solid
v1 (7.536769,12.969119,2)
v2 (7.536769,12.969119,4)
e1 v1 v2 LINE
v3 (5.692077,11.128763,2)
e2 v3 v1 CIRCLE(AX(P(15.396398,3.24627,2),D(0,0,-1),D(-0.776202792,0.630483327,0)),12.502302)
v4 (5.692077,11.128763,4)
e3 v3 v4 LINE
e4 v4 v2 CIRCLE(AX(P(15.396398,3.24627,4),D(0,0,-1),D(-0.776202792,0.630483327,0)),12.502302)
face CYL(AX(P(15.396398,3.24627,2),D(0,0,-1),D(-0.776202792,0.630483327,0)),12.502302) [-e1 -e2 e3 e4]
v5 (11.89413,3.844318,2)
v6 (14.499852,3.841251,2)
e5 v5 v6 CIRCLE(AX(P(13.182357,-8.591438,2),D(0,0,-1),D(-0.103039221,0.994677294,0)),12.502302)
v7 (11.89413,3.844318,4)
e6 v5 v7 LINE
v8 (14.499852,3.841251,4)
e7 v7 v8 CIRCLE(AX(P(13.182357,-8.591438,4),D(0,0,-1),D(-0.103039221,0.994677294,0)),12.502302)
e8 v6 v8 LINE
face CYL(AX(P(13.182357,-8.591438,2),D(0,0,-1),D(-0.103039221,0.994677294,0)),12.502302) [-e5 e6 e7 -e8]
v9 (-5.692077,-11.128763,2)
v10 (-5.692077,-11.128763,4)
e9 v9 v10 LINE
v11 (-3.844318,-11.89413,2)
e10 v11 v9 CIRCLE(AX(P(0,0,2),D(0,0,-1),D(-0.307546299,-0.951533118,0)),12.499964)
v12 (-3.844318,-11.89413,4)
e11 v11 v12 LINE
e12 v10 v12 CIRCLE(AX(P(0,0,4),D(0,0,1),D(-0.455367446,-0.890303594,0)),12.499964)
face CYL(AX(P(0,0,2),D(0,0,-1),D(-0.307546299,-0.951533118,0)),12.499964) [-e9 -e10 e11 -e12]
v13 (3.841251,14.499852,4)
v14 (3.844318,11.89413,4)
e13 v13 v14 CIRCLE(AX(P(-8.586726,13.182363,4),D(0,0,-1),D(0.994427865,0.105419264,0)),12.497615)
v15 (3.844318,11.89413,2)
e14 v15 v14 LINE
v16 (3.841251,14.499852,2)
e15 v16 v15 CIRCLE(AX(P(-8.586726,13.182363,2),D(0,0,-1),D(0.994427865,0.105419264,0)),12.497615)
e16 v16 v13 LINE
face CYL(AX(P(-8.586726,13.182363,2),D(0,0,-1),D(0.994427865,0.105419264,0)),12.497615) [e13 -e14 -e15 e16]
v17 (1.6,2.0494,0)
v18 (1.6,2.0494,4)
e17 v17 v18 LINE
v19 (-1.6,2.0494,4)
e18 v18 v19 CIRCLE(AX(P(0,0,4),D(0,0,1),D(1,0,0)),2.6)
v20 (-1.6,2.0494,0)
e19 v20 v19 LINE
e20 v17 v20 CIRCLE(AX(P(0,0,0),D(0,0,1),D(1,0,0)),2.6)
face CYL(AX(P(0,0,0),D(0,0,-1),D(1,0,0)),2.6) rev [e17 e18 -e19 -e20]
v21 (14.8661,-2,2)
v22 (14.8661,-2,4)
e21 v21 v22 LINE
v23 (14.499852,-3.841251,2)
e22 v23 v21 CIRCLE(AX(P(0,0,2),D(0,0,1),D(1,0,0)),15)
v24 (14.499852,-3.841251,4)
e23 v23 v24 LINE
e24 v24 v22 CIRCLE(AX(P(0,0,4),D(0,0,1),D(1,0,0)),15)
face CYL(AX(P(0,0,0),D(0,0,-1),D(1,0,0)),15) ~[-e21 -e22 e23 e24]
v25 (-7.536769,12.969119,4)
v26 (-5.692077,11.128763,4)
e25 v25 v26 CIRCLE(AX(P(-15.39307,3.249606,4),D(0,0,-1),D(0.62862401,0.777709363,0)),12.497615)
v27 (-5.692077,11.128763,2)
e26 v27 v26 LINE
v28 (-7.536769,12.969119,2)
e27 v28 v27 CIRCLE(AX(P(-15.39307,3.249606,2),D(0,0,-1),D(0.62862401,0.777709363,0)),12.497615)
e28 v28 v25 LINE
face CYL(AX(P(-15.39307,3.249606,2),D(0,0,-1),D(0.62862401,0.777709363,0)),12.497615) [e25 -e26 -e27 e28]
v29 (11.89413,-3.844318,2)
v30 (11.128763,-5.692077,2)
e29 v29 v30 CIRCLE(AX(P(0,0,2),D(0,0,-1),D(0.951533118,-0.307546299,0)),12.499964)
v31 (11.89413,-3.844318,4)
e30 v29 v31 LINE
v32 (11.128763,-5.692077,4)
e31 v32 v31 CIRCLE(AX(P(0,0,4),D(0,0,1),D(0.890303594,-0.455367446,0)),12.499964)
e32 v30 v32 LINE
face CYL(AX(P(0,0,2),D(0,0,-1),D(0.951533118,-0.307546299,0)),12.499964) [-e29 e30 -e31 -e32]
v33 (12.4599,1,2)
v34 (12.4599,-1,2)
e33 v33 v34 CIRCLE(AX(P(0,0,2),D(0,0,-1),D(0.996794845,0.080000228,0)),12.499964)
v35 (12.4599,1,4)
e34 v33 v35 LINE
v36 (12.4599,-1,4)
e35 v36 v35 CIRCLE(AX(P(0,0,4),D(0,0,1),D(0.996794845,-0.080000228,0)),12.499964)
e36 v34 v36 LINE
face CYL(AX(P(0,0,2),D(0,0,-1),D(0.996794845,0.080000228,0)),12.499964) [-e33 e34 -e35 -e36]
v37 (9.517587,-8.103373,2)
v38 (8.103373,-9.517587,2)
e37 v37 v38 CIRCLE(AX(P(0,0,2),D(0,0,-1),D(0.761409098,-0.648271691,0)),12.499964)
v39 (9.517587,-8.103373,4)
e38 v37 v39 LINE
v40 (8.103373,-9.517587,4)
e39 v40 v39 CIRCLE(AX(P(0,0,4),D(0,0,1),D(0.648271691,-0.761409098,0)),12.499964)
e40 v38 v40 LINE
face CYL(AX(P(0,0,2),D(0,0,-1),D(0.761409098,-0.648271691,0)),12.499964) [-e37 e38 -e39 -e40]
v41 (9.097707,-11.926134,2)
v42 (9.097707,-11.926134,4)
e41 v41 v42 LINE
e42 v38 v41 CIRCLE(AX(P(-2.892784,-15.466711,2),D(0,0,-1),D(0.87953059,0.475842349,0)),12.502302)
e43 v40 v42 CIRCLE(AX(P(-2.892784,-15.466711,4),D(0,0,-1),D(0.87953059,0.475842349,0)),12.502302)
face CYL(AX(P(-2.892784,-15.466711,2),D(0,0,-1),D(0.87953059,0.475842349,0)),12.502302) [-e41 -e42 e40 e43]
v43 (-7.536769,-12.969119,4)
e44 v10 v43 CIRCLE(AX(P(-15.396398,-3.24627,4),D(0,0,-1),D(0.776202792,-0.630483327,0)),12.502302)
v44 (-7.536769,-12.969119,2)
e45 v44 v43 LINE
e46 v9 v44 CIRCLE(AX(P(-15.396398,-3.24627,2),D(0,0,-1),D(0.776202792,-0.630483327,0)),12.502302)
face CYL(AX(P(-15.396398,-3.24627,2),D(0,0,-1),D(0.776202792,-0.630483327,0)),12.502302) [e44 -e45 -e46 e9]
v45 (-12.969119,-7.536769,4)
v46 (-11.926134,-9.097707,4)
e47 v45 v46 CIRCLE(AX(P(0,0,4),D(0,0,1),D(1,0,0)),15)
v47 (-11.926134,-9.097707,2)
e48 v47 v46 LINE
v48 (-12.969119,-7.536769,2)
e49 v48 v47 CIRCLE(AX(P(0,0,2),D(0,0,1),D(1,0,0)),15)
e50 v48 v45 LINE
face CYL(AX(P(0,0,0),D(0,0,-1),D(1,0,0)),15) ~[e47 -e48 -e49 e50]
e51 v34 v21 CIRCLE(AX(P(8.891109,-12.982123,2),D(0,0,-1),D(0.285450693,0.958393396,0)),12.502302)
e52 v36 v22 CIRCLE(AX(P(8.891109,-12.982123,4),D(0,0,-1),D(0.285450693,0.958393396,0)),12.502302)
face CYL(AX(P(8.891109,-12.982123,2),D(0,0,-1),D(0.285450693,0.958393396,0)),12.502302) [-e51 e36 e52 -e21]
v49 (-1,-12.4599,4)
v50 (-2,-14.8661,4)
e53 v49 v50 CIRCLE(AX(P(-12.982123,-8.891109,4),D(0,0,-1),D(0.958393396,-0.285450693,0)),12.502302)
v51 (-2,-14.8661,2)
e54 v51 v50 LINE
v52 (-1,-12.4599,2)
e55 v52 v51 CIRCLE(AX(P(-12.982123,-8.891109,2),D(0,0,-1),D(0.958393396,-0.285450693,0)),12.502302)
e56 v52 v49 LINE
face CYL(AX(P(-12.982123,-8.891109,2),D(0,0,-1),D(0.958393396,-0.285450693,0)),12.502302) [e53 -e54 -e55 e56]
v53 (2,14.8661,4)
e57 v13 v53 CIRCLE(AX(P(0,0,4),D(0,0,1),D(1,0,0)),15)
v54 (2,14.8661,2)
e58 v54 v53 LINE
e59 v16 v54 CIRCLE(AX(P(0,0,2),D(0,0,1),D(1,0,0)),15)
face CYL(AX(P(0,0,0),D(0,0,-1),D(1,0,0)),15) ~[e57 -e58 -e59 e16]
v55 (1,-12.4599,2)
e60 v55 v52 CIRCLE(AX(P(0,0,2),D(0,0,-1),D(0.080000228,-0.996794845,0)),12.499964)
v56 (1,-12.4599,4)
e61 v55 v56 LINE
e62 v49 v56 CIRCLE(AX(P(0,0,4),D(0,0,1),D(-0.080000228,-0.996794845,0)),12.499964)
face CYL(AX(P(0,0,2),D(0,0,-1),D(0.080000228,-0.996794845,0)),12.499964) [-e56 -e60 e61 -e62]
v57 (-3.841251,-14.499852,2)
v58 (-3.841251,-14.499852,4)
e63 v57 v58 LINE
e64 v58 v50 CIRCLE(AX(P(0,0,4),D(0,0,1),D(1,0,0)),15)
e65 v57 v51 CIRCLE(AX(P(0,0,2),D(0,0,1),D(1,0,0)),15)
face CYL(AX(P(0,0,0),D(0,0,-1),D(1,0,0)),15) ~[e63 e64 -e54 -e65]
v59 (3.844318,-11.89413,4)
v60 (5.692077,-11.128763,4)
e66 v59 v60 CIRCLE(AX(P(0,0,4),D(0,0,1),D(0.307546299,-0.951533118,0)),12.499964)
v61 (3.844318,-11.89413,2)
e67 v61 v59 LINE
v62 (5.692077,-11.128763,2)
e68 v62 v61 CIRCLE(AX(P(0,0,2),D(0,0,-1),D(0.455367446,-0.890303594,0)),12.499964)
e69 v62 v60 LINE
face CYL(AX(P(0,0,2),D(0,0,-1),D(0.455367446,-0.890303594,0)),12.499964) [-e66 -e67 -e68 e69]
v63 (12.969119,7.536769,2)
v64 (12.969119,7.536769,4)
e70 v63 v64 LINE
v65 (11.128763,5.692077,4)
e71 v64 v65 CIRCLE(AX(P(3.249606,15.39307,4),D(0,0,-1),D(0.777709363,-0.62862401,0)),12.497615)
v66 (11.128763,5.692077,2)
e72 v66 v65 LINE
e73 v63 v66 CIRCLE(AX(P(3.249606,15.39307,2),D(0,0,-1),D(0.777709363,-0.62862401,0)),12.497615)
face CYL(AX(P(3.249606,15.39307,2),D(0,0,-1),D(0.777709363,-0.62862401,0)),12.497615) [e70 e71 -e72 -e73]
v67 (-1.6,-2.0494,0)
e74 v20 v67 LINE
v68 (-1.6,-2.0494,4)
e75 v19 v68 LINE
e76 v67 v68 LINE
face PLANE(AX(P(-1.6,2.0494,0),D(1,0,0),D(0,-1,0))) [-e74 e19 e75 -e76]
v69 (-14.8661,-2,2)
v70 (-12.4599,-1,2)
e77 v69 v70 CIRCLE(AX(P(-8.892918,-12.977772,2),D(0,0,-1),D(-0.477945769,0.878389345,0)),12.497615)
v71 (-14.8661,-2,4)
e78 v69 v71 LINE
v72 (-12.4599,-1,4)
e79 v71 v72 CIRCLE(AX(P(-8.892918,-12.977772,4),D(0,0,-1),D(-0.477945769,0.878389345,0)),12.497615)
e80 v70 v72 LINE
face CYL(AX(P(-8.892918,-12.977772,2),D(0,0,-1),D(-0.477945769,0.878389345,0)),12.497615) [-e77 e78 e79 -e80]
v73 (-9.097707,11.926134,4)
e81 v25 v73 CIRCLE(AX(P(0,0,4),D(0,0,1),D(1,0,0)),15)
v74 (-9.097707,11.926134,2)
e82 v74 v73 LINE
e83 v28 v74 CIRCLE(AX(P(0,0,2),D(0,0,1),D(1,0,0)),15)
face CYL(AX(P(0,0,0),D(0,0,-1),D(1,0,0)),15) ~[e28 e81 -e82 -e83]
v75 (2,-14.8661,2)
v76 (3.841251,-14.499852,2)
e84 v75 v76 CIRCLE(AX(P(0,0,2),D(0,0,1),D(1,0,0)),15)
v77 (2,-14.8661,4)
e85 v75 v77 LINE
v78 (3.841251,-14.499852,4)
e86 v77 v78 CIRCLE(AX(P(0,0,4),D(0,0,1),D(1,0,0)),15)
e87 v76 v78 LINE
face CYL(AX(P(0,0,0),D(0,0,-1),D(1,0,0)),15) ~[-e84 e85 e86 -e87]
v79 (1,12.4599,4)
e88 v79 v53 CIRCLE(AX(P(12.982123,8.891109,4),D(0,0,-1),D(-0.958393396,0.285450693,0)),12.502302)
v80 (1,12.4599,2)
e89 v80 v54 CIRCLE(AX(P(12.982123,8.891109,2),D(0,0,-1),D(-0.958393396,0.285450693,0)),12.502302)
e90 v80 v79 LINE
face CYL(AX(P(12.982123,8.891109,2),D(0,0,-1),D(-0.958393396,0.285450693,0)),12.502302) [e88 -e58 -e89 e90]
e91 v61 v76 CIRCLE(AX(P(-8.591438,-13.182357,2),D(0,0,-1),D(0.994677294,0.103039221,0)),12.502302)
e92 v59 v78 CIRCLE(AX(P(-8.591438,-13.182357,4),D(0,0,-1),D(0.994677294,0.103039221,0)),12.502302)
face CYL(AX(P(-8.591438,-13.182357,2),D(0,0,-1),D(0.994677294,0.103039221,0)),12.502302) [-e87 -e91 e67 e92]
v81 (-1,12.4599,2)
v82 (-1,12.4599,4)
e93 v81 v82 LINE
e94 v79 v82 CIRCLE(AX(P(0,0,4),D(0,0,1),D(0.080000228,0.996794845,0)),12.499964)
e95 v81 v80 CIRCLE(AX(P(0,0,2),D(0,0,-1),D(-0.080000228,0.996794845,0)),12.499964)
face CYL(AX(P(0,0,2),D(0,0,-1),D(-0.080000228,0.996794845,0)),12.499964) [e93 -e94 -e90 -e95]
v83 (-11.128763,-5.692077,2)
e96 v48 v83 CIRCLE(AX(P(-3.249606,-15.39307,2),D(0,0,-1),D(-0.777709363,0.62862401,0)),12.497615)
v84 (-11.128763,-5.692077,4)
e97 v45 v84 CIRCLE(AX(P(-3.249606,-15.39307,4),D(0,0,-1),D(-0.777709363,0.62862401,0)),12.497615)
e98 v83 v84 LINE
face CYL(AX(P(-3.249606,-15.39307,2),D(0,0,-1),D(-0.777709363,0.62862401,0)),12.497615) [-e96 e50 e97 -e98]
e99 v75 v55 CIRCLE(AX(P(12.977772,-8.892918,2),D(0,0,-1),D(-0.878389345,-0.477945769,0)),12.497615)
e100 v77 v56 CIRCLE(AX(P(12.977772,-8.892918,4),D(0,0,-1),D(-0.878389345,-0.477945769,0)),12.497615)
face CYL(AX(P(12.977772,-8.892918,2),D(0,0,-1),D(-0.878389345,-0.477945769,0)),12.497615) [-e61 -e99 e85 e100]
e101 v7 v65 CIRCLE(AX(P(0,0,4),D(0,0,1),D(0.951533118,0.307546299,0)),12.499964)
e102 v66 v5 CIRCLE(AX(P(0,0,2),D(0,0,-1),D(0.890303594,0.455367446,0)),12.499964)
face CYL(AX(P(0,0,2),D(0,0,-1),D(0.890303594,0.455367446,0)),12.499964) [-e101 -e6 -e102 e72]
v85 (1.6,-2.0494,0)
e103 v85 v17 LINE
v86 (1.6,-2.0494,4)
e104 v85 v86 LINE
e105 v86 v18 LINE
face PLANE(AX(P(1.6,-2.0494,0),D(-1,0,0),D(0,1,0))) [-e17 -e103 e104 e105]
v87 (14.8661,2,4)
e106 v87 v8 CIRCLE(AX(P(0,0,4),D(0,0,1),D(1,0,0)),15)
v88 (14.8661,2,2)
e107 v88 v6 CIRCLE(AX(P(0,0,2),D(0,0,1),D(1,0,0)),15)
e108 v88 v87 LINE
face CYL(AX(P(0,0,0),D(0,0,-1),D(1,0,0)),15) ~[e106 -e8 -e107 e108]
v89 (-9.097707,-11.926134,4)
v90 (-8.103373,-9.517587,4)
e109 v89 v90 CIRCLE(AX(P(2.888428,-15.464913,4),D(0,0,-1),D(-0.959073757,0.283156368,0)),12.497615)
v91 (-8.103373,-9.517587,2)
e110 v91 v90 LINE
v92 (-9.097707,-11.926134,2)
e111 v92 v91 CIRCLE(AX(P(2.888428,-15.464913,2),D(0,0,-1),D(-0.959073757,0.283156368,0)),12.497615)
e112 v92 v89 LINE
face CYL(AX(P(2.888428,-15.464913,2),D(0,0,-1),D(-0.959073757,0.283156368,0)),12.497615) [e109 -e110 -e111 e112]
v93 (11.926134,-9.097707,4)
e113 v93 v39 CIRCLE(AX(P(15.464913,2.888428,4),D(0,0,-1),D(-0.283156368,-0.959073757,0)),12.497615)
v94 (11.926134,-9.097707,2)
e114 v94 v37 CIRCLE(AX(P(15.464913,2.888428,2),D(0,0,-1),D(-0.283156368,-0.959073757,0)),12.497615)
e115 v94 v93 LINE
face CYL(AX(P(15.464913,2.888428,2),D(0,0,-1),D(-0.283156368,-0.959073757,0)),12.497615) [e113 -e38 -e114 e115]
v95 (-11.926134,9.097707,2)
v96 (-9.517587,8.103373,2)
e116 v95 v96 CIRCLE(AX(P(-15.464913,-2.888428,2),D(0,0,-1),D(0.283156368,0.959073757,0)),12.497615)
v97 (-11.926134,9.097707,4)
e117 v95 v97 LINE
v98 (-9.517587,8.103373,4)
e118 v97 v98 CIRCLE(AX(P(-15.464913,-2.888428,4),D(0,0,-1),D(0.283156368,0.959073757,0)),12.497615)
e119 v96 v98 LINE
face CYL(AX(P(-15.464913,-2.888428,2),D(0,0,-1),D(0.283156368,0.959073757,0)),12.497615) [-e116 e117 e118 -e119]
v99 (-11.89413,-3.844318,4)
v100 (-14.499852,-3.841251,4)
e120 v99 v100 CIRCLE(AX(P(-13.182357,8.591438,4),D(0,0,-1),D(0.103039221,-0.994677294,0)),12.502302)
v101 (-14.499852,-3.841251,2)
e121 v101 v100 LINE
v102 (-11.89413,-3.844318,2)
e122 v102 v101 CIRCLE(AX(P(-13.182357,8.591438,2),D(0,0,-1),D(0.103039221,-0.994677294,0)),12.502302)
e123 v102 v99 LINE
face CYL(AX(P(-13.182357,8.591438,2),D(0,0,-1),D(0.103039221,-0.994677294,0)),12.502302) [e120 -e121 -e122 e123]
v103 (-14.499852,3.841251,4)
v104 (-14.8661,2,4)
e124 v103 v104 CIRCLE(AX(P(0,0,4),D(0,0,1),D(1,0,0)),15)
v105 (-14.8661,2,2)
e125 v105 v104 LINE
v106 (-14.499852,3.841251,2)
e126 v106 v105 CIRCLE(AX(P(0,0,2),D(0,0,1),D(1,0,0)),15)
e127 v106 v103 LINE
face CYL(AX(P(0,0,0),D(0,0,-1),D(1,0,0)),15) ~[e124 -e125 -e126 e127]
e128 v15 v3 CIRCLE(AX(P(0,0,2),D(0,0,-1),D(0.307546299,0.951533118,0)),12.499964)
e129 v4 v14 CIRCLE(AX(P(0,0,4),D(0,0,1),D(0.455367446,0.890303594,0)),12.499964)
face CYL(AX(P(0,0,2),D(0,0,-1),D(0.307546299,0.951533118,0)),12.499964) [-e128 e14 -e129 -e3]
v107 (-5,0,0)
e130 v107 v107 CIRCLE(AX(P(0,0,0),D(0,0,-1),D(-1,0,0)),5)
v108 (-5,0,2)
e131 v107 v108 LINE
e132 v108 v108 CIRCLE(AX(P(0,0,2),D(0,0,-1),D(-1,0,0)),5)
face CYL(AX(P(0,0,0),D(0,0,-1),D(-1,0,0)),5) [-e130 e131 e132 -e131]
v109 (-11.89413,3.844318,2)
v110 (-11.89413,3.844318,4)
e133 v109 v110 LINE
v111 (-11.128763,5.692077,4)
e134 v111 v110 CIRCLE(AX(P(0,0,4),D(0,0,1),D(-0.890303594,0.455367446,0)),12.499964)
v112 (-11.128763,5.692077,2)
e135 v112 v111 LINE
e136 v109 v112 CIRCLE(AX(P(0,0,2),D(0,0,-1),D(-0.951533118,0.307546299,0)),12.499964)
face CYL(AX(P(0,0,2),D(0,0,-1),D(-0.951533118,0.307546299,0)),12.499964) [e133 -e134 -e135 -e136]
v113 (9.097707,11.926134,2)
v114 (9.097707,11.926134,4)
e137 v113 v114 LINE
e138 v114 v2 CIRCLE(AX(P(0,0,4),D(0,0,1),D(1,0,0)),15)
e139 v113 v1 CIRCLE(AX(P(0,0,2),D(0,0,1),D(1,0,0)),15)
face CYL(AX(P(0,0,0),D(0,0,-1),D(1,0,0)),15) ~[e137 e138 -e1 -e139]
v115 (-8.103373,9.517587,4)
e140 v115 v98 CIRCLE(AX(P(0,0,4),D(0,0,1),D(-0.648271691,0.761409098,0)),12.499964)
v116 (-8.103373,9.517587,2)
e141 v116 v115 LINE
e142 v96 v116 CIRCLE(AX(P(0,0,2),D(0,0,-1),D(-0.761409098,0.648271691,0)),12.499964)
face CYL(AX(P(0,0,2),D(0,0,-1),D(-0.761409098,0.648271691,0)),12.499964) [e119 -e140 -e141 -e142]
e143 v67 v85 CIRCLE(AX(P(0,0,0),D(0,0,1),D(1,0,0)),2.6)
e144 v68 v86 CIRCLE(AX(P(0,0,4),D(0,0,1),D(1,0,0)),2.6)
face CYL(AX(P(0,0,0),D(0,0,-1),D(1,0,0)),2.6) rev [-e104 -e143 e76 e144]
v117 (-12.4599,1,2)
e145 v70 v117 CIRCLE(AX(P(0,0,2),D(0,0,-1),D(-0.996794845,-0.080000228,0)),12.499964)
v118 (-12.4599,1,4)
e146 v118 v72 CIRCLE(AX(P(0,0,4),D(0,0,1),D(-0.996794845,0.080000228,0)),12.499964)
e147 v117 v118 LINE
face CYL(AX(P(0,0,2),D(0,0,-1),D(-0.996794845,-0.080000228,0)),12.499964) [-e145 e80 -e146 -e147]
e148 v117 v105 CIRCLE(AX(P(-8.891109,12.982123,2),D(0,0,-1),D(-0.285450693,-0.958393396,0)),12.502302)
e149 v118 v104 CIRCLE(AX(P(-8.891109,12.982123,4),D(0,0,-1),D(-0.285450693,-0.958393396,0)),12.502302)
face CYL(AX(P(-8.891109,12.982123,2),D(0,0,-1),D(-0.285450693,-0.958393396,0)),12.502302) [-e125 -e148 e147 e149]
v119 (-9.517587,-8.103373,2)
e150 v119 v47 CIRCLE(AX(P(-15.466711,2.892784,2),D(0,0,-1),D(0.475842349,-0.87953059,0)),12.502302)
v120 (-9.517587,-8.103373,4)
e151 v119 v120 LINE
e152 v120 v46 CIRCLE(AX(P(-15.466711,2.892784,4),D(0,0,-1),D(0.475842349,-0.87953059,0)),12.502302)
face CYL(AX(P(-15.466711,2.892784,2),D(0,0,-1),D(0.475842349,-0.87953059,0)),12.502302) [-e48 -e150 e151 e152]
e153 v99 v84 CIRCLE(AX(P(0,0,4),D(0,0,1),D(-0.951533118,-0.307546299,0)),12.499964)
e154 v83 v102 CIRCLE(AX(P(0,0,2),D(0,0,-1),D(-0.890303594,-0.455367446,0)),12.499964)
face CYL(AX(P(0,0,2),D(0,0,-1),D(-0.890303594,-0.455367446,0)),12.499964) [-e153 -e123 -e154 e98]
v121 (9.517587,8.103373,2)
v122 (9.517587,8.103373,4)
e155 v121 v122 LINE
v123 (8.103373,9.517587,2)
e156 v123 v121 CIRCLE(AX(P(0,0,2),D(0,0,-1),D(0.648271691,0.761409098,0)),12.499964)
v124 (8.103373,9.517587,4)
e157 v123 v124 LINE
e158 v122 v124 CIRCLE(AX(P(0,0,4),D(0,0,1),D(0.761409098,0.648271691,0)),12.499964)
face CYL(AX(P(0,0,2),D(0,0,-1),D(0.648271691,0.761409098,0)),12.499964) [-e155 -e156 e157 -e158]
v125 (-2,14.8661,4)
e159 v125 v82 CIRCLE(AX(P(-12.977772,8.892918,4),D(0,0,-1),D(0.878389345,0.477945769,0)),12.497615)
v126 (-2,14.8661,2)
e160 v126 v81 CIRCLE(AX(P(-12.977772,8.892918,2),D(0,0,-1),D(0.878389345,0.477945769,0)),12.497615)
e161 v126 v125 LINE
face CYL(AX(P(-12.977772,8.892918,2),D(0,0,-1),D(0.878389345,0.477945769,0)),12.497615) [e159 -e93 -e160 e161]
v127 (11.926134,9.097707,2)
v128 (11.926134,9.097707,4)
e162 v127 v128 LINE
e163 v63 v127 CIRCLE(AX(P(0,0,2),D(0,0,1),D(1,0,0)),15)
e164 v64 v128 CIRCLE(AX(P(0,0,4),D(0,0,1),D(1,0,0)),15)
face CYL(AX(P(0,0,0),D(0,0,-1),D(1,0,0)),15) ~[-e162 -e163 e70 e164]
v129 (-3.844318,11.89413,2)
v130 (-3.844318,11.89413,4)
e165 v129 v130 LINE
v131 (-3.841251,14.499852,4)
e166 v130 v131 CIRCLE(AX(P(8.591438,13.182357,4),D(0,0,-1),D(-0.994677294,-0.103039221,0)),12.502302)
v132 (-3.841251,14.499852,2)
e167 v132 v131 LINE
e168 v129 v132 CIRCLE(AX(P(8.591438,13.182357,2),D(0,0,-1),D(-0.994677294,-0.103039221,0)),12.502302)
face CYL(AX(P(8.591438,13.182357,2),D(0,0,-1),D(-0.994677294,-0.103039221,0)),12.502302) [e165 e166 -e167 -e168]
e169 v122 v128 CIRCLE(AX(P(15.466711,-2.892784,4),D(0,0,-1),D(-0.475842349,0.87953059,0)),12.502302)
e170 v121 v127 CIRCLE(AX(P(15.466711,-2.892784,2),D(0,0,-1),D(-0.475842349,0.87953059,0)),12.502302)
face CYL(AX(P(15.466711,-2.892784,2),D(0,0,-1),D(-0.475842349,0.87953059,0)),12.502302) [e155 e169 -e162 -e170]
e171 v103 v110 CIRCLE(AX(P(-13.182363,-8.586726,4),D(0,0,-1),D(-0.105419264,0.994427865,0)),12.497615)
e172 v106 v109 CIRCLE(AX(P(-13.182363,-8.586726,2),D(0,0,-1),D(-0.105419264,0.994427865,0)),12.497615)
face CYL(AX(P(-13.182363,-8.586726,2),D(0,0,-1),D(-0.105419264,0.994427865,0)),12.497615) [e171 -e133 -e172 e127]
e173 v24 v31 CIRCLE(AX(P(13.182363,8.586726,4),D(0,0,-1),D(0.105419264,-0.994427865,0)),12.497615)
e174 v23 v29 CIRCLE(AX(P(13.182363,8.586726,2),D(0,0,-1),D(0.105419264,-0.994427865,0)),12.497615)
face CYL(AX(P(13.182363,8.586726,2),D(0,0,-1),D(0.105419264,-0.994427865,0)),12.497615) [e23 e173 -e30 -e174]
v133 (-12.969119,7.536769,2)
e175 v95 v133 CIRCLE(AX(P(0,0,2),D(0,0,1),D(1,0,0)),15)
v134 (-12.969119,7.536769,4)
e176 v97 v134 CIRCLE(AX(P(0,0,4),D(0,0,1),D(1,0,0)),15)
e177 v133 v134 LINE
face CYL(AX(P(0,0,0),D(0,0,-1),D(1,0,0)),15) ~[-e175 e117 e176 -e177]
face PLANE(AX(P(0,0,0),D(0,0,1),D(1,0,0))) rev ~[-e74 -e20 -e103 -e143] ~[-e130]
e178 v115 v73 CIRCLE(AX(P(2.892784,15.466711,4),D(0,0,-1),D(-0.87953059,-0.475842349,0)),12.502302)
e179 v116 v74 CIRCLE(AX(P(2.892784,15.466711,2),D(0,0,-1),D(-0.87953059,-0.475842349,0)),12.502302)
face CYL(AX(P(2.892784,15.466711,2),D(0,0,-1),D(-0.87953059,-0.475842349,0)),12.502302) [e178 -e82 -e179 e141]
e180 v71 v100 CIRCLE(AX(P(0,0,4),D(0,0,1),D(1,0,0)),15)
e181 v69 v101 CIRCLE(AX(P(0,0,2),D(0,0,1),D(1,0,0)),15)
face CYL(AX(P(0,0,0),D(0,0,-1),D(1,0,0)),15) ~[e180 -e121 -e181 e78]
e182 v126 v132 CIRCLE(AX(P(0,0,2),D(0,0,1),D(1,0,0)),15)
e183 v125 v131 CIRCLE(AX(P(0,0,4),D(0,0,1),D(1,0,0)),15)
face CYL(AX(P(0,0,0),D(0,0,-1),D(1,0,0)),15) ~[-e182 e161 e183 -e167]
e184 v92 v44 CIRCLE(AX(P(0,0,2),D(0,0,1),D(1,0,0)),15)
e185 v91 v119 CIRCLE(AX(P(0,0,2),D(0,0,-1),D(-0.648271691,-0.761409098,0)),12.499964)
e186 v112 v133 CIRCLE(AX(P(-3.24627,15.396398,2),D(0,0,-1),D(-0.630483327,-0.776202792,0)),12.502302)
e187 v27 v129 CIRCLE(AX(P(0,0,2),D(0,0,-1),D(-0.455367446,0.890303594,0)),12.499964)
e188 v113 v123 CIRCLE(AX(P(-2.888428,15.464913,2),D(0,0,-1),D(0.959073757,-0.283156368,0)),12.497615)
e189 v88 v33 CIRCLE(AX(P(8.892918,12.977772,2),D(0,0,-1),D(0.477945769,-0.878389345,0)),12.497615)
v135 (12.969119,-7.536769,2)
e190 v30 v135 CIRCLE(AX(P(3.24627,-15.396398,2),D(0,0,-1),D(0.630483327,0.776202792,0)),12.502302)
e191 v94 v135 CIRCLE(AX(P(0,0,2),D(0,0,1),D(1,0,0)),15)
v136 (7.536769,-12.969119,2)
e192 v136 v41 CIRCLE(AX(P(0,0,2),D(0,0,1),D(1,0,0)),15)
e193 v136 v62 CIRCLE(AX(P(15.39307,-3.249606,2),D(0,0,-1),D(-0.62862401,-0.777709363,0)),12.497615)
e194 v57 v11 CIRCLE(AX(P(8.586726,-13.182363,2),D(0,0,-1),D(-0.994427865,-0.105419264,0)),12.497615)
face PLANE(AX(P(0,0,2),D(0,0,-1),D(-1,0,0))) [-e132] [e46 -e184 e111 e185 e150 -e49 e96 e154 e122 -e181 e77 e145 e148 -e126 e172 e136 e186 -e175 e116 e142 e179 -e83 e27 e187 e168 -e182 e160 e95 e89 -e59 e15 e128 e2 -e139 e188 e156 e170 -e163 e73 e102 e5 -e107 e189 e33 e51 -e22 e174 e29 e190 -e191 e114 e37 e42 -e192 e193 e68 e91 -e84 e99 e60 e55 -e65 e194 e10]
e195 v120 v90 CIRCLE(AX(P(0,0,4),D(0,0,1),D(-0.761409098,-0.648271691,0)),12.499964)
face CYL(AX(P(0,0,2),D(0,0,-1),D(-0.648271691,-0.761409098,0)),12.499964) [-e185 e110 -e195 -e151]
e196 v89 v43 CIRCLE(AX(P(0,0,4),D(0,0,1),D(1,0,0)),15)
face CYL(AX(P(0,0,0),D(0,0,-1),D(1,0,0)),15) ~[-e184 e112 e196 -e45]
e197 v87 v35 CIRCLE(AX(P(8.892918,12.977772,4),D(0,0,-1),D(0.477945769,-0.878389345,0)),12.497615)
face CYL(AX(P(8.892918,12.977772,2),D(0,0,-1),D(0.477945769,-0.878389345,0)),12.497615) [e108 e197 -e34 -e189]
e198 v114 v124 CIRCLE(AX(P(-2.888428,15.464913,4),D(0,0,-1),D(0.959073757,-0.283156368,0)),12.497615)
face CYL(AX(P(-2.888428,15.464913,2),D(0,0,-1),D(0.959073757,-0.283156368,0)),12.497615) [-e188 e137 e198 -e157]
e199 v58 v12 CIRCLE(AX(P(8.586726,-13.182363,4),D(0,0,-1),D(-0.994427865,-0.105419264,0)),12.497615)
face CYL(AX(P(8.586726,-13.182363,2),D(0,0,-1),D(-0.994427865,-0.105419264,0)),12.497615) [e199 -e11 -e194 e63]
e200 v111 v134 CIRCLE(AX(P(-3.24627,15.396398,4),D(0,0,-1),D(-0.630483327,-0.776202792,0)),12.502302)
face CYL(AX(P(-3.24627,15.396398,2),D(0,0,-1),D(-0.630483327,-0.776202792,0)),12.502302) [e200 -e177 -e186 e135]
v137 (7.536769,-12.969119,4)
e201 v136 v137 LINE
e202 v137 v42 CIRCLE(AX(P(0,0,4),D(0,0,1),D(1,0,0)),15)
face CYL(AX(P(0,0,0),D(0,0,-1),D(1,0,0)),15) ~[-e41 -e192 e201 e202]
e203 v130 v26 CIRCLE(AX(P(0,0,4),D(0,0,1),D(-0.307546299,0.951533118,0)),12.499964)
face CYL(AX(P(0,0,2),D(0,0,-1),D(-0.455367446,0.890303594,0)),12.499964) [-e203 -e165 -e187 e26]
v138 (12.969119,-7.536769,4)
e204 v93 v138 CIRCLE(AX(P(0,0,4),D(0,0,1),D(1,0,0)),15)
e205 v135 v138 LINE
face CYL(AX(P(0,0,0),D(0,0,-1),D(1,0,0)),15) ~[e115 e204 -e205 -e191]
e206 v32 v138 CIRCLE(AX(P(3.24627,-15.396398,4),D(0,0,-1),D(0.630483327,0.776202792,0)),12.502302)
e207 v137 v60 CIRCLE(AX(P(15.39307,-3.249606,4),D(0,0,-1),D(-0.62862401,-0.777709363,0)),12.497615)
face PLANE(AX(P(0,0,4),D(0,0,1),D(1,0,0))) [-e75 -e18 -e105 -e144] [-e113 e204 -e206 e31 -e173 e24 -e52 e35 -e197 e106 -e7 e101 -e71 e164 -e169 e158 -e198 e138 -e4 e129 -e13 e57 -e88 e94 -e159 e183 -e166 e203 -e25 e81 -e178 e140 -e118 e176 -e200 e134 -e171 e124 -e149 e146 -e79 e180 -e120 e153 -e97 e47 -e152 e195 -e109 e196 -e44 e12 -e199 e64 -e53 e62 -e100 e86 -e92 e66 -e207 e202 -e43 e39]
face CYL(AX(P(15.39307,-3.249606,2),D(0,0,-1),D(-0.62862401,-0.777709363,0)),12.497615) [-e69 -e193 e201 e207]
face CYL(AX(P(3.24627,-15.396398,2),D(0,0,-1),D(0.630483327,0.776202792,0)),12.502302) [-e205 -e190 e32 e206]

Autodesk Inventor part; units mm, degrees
ref_plane "YZ Plane" through (0, 0, 0) normal (1, 0, 0) x (0, 1, 0)
ref_plane "XY Plane" through (0, 0, 0) normal (0, 0, 1) x (1, 0, 0)
sketch "Skizze1" plane through (0, 0, 0) normal (0, 0, 1) x (1, 0, 0)
  circle A0 centre (0, 0) radius 2.6
  circle A1 centre (0, 0) radius 15
  line L0 (-1.6, 2.0494) -> (-1.6, -2.0494)
  line L1 (1.6, -2.0494) -> (1.6, 2.0494)
  dimension "d0" = 5.2
  dimension "d1" = 30
  dimension "d2" = 3.2
extrude "Extrusion1" add sketch "Skizze1" along normal blind 4 contours A0 L1 | L0 A0 | A1
sketch "Skizze3" plane through (0, 0, 0) normal (0, 0, -1) x (-1, 0, 0)
  circle A0 centre (0, 0) radius 5
  circle A1 centre (0, 0) radius 15
  dimension "d8" = 10
  dimension "d9" = 30
extrude "Extrusion3" cut sketch "Skizze3" against normal blind 2
sketch "Skizze4" plane through (0, 0, 2) normal (0, 0, -1) x (-1, 0, 0)
  circle A0 centre (0, 0) radius 12.5 construction
  circle A1 centre (0, 0) radius 15 projected
  line L0 (-15, 0) -> (-12.5, 0)
  arc A2 (-12.4599, -1) -> (-14.8661, -2) centre (-8.8919, -12.9799) ccw
  arc A3 (-14.8661, 2) -> (-12.4599, 1) centre (-8.8919, 12.9799) ccw
  arc A4 (-14.8661, 2) -> (-14.8661, -2) centre (0, 0) ccw
  arc A5 (-12.4599, 1) -> (-12.4599, -1) centre (0, 0) ccw
  circle A6 centre (0, 0) radius 15 projected
  point P0 (-13.75, 0)
  dimension "d12" = 25
  dimension "d13" = 12.5
  dimension "d14" = 4
  dimension "d15" = 2
extrude "Extrusion4" cut sketch "Skizze4" against normal blind 2 contours A3 A5 L0 A1 | A1 L0 A5 A2
pattern_circular "Runde Anordnung1" count 16 over 360 about axis through (0, 0, 0) along (0, 0, 1) of "Extrusion4"
ref_plane "Arbeitsebene1" through (0, 16.5, 0) normal (0, 1, 0) x (-1, 0, 0)
properties part number "Adapter Stepper"
